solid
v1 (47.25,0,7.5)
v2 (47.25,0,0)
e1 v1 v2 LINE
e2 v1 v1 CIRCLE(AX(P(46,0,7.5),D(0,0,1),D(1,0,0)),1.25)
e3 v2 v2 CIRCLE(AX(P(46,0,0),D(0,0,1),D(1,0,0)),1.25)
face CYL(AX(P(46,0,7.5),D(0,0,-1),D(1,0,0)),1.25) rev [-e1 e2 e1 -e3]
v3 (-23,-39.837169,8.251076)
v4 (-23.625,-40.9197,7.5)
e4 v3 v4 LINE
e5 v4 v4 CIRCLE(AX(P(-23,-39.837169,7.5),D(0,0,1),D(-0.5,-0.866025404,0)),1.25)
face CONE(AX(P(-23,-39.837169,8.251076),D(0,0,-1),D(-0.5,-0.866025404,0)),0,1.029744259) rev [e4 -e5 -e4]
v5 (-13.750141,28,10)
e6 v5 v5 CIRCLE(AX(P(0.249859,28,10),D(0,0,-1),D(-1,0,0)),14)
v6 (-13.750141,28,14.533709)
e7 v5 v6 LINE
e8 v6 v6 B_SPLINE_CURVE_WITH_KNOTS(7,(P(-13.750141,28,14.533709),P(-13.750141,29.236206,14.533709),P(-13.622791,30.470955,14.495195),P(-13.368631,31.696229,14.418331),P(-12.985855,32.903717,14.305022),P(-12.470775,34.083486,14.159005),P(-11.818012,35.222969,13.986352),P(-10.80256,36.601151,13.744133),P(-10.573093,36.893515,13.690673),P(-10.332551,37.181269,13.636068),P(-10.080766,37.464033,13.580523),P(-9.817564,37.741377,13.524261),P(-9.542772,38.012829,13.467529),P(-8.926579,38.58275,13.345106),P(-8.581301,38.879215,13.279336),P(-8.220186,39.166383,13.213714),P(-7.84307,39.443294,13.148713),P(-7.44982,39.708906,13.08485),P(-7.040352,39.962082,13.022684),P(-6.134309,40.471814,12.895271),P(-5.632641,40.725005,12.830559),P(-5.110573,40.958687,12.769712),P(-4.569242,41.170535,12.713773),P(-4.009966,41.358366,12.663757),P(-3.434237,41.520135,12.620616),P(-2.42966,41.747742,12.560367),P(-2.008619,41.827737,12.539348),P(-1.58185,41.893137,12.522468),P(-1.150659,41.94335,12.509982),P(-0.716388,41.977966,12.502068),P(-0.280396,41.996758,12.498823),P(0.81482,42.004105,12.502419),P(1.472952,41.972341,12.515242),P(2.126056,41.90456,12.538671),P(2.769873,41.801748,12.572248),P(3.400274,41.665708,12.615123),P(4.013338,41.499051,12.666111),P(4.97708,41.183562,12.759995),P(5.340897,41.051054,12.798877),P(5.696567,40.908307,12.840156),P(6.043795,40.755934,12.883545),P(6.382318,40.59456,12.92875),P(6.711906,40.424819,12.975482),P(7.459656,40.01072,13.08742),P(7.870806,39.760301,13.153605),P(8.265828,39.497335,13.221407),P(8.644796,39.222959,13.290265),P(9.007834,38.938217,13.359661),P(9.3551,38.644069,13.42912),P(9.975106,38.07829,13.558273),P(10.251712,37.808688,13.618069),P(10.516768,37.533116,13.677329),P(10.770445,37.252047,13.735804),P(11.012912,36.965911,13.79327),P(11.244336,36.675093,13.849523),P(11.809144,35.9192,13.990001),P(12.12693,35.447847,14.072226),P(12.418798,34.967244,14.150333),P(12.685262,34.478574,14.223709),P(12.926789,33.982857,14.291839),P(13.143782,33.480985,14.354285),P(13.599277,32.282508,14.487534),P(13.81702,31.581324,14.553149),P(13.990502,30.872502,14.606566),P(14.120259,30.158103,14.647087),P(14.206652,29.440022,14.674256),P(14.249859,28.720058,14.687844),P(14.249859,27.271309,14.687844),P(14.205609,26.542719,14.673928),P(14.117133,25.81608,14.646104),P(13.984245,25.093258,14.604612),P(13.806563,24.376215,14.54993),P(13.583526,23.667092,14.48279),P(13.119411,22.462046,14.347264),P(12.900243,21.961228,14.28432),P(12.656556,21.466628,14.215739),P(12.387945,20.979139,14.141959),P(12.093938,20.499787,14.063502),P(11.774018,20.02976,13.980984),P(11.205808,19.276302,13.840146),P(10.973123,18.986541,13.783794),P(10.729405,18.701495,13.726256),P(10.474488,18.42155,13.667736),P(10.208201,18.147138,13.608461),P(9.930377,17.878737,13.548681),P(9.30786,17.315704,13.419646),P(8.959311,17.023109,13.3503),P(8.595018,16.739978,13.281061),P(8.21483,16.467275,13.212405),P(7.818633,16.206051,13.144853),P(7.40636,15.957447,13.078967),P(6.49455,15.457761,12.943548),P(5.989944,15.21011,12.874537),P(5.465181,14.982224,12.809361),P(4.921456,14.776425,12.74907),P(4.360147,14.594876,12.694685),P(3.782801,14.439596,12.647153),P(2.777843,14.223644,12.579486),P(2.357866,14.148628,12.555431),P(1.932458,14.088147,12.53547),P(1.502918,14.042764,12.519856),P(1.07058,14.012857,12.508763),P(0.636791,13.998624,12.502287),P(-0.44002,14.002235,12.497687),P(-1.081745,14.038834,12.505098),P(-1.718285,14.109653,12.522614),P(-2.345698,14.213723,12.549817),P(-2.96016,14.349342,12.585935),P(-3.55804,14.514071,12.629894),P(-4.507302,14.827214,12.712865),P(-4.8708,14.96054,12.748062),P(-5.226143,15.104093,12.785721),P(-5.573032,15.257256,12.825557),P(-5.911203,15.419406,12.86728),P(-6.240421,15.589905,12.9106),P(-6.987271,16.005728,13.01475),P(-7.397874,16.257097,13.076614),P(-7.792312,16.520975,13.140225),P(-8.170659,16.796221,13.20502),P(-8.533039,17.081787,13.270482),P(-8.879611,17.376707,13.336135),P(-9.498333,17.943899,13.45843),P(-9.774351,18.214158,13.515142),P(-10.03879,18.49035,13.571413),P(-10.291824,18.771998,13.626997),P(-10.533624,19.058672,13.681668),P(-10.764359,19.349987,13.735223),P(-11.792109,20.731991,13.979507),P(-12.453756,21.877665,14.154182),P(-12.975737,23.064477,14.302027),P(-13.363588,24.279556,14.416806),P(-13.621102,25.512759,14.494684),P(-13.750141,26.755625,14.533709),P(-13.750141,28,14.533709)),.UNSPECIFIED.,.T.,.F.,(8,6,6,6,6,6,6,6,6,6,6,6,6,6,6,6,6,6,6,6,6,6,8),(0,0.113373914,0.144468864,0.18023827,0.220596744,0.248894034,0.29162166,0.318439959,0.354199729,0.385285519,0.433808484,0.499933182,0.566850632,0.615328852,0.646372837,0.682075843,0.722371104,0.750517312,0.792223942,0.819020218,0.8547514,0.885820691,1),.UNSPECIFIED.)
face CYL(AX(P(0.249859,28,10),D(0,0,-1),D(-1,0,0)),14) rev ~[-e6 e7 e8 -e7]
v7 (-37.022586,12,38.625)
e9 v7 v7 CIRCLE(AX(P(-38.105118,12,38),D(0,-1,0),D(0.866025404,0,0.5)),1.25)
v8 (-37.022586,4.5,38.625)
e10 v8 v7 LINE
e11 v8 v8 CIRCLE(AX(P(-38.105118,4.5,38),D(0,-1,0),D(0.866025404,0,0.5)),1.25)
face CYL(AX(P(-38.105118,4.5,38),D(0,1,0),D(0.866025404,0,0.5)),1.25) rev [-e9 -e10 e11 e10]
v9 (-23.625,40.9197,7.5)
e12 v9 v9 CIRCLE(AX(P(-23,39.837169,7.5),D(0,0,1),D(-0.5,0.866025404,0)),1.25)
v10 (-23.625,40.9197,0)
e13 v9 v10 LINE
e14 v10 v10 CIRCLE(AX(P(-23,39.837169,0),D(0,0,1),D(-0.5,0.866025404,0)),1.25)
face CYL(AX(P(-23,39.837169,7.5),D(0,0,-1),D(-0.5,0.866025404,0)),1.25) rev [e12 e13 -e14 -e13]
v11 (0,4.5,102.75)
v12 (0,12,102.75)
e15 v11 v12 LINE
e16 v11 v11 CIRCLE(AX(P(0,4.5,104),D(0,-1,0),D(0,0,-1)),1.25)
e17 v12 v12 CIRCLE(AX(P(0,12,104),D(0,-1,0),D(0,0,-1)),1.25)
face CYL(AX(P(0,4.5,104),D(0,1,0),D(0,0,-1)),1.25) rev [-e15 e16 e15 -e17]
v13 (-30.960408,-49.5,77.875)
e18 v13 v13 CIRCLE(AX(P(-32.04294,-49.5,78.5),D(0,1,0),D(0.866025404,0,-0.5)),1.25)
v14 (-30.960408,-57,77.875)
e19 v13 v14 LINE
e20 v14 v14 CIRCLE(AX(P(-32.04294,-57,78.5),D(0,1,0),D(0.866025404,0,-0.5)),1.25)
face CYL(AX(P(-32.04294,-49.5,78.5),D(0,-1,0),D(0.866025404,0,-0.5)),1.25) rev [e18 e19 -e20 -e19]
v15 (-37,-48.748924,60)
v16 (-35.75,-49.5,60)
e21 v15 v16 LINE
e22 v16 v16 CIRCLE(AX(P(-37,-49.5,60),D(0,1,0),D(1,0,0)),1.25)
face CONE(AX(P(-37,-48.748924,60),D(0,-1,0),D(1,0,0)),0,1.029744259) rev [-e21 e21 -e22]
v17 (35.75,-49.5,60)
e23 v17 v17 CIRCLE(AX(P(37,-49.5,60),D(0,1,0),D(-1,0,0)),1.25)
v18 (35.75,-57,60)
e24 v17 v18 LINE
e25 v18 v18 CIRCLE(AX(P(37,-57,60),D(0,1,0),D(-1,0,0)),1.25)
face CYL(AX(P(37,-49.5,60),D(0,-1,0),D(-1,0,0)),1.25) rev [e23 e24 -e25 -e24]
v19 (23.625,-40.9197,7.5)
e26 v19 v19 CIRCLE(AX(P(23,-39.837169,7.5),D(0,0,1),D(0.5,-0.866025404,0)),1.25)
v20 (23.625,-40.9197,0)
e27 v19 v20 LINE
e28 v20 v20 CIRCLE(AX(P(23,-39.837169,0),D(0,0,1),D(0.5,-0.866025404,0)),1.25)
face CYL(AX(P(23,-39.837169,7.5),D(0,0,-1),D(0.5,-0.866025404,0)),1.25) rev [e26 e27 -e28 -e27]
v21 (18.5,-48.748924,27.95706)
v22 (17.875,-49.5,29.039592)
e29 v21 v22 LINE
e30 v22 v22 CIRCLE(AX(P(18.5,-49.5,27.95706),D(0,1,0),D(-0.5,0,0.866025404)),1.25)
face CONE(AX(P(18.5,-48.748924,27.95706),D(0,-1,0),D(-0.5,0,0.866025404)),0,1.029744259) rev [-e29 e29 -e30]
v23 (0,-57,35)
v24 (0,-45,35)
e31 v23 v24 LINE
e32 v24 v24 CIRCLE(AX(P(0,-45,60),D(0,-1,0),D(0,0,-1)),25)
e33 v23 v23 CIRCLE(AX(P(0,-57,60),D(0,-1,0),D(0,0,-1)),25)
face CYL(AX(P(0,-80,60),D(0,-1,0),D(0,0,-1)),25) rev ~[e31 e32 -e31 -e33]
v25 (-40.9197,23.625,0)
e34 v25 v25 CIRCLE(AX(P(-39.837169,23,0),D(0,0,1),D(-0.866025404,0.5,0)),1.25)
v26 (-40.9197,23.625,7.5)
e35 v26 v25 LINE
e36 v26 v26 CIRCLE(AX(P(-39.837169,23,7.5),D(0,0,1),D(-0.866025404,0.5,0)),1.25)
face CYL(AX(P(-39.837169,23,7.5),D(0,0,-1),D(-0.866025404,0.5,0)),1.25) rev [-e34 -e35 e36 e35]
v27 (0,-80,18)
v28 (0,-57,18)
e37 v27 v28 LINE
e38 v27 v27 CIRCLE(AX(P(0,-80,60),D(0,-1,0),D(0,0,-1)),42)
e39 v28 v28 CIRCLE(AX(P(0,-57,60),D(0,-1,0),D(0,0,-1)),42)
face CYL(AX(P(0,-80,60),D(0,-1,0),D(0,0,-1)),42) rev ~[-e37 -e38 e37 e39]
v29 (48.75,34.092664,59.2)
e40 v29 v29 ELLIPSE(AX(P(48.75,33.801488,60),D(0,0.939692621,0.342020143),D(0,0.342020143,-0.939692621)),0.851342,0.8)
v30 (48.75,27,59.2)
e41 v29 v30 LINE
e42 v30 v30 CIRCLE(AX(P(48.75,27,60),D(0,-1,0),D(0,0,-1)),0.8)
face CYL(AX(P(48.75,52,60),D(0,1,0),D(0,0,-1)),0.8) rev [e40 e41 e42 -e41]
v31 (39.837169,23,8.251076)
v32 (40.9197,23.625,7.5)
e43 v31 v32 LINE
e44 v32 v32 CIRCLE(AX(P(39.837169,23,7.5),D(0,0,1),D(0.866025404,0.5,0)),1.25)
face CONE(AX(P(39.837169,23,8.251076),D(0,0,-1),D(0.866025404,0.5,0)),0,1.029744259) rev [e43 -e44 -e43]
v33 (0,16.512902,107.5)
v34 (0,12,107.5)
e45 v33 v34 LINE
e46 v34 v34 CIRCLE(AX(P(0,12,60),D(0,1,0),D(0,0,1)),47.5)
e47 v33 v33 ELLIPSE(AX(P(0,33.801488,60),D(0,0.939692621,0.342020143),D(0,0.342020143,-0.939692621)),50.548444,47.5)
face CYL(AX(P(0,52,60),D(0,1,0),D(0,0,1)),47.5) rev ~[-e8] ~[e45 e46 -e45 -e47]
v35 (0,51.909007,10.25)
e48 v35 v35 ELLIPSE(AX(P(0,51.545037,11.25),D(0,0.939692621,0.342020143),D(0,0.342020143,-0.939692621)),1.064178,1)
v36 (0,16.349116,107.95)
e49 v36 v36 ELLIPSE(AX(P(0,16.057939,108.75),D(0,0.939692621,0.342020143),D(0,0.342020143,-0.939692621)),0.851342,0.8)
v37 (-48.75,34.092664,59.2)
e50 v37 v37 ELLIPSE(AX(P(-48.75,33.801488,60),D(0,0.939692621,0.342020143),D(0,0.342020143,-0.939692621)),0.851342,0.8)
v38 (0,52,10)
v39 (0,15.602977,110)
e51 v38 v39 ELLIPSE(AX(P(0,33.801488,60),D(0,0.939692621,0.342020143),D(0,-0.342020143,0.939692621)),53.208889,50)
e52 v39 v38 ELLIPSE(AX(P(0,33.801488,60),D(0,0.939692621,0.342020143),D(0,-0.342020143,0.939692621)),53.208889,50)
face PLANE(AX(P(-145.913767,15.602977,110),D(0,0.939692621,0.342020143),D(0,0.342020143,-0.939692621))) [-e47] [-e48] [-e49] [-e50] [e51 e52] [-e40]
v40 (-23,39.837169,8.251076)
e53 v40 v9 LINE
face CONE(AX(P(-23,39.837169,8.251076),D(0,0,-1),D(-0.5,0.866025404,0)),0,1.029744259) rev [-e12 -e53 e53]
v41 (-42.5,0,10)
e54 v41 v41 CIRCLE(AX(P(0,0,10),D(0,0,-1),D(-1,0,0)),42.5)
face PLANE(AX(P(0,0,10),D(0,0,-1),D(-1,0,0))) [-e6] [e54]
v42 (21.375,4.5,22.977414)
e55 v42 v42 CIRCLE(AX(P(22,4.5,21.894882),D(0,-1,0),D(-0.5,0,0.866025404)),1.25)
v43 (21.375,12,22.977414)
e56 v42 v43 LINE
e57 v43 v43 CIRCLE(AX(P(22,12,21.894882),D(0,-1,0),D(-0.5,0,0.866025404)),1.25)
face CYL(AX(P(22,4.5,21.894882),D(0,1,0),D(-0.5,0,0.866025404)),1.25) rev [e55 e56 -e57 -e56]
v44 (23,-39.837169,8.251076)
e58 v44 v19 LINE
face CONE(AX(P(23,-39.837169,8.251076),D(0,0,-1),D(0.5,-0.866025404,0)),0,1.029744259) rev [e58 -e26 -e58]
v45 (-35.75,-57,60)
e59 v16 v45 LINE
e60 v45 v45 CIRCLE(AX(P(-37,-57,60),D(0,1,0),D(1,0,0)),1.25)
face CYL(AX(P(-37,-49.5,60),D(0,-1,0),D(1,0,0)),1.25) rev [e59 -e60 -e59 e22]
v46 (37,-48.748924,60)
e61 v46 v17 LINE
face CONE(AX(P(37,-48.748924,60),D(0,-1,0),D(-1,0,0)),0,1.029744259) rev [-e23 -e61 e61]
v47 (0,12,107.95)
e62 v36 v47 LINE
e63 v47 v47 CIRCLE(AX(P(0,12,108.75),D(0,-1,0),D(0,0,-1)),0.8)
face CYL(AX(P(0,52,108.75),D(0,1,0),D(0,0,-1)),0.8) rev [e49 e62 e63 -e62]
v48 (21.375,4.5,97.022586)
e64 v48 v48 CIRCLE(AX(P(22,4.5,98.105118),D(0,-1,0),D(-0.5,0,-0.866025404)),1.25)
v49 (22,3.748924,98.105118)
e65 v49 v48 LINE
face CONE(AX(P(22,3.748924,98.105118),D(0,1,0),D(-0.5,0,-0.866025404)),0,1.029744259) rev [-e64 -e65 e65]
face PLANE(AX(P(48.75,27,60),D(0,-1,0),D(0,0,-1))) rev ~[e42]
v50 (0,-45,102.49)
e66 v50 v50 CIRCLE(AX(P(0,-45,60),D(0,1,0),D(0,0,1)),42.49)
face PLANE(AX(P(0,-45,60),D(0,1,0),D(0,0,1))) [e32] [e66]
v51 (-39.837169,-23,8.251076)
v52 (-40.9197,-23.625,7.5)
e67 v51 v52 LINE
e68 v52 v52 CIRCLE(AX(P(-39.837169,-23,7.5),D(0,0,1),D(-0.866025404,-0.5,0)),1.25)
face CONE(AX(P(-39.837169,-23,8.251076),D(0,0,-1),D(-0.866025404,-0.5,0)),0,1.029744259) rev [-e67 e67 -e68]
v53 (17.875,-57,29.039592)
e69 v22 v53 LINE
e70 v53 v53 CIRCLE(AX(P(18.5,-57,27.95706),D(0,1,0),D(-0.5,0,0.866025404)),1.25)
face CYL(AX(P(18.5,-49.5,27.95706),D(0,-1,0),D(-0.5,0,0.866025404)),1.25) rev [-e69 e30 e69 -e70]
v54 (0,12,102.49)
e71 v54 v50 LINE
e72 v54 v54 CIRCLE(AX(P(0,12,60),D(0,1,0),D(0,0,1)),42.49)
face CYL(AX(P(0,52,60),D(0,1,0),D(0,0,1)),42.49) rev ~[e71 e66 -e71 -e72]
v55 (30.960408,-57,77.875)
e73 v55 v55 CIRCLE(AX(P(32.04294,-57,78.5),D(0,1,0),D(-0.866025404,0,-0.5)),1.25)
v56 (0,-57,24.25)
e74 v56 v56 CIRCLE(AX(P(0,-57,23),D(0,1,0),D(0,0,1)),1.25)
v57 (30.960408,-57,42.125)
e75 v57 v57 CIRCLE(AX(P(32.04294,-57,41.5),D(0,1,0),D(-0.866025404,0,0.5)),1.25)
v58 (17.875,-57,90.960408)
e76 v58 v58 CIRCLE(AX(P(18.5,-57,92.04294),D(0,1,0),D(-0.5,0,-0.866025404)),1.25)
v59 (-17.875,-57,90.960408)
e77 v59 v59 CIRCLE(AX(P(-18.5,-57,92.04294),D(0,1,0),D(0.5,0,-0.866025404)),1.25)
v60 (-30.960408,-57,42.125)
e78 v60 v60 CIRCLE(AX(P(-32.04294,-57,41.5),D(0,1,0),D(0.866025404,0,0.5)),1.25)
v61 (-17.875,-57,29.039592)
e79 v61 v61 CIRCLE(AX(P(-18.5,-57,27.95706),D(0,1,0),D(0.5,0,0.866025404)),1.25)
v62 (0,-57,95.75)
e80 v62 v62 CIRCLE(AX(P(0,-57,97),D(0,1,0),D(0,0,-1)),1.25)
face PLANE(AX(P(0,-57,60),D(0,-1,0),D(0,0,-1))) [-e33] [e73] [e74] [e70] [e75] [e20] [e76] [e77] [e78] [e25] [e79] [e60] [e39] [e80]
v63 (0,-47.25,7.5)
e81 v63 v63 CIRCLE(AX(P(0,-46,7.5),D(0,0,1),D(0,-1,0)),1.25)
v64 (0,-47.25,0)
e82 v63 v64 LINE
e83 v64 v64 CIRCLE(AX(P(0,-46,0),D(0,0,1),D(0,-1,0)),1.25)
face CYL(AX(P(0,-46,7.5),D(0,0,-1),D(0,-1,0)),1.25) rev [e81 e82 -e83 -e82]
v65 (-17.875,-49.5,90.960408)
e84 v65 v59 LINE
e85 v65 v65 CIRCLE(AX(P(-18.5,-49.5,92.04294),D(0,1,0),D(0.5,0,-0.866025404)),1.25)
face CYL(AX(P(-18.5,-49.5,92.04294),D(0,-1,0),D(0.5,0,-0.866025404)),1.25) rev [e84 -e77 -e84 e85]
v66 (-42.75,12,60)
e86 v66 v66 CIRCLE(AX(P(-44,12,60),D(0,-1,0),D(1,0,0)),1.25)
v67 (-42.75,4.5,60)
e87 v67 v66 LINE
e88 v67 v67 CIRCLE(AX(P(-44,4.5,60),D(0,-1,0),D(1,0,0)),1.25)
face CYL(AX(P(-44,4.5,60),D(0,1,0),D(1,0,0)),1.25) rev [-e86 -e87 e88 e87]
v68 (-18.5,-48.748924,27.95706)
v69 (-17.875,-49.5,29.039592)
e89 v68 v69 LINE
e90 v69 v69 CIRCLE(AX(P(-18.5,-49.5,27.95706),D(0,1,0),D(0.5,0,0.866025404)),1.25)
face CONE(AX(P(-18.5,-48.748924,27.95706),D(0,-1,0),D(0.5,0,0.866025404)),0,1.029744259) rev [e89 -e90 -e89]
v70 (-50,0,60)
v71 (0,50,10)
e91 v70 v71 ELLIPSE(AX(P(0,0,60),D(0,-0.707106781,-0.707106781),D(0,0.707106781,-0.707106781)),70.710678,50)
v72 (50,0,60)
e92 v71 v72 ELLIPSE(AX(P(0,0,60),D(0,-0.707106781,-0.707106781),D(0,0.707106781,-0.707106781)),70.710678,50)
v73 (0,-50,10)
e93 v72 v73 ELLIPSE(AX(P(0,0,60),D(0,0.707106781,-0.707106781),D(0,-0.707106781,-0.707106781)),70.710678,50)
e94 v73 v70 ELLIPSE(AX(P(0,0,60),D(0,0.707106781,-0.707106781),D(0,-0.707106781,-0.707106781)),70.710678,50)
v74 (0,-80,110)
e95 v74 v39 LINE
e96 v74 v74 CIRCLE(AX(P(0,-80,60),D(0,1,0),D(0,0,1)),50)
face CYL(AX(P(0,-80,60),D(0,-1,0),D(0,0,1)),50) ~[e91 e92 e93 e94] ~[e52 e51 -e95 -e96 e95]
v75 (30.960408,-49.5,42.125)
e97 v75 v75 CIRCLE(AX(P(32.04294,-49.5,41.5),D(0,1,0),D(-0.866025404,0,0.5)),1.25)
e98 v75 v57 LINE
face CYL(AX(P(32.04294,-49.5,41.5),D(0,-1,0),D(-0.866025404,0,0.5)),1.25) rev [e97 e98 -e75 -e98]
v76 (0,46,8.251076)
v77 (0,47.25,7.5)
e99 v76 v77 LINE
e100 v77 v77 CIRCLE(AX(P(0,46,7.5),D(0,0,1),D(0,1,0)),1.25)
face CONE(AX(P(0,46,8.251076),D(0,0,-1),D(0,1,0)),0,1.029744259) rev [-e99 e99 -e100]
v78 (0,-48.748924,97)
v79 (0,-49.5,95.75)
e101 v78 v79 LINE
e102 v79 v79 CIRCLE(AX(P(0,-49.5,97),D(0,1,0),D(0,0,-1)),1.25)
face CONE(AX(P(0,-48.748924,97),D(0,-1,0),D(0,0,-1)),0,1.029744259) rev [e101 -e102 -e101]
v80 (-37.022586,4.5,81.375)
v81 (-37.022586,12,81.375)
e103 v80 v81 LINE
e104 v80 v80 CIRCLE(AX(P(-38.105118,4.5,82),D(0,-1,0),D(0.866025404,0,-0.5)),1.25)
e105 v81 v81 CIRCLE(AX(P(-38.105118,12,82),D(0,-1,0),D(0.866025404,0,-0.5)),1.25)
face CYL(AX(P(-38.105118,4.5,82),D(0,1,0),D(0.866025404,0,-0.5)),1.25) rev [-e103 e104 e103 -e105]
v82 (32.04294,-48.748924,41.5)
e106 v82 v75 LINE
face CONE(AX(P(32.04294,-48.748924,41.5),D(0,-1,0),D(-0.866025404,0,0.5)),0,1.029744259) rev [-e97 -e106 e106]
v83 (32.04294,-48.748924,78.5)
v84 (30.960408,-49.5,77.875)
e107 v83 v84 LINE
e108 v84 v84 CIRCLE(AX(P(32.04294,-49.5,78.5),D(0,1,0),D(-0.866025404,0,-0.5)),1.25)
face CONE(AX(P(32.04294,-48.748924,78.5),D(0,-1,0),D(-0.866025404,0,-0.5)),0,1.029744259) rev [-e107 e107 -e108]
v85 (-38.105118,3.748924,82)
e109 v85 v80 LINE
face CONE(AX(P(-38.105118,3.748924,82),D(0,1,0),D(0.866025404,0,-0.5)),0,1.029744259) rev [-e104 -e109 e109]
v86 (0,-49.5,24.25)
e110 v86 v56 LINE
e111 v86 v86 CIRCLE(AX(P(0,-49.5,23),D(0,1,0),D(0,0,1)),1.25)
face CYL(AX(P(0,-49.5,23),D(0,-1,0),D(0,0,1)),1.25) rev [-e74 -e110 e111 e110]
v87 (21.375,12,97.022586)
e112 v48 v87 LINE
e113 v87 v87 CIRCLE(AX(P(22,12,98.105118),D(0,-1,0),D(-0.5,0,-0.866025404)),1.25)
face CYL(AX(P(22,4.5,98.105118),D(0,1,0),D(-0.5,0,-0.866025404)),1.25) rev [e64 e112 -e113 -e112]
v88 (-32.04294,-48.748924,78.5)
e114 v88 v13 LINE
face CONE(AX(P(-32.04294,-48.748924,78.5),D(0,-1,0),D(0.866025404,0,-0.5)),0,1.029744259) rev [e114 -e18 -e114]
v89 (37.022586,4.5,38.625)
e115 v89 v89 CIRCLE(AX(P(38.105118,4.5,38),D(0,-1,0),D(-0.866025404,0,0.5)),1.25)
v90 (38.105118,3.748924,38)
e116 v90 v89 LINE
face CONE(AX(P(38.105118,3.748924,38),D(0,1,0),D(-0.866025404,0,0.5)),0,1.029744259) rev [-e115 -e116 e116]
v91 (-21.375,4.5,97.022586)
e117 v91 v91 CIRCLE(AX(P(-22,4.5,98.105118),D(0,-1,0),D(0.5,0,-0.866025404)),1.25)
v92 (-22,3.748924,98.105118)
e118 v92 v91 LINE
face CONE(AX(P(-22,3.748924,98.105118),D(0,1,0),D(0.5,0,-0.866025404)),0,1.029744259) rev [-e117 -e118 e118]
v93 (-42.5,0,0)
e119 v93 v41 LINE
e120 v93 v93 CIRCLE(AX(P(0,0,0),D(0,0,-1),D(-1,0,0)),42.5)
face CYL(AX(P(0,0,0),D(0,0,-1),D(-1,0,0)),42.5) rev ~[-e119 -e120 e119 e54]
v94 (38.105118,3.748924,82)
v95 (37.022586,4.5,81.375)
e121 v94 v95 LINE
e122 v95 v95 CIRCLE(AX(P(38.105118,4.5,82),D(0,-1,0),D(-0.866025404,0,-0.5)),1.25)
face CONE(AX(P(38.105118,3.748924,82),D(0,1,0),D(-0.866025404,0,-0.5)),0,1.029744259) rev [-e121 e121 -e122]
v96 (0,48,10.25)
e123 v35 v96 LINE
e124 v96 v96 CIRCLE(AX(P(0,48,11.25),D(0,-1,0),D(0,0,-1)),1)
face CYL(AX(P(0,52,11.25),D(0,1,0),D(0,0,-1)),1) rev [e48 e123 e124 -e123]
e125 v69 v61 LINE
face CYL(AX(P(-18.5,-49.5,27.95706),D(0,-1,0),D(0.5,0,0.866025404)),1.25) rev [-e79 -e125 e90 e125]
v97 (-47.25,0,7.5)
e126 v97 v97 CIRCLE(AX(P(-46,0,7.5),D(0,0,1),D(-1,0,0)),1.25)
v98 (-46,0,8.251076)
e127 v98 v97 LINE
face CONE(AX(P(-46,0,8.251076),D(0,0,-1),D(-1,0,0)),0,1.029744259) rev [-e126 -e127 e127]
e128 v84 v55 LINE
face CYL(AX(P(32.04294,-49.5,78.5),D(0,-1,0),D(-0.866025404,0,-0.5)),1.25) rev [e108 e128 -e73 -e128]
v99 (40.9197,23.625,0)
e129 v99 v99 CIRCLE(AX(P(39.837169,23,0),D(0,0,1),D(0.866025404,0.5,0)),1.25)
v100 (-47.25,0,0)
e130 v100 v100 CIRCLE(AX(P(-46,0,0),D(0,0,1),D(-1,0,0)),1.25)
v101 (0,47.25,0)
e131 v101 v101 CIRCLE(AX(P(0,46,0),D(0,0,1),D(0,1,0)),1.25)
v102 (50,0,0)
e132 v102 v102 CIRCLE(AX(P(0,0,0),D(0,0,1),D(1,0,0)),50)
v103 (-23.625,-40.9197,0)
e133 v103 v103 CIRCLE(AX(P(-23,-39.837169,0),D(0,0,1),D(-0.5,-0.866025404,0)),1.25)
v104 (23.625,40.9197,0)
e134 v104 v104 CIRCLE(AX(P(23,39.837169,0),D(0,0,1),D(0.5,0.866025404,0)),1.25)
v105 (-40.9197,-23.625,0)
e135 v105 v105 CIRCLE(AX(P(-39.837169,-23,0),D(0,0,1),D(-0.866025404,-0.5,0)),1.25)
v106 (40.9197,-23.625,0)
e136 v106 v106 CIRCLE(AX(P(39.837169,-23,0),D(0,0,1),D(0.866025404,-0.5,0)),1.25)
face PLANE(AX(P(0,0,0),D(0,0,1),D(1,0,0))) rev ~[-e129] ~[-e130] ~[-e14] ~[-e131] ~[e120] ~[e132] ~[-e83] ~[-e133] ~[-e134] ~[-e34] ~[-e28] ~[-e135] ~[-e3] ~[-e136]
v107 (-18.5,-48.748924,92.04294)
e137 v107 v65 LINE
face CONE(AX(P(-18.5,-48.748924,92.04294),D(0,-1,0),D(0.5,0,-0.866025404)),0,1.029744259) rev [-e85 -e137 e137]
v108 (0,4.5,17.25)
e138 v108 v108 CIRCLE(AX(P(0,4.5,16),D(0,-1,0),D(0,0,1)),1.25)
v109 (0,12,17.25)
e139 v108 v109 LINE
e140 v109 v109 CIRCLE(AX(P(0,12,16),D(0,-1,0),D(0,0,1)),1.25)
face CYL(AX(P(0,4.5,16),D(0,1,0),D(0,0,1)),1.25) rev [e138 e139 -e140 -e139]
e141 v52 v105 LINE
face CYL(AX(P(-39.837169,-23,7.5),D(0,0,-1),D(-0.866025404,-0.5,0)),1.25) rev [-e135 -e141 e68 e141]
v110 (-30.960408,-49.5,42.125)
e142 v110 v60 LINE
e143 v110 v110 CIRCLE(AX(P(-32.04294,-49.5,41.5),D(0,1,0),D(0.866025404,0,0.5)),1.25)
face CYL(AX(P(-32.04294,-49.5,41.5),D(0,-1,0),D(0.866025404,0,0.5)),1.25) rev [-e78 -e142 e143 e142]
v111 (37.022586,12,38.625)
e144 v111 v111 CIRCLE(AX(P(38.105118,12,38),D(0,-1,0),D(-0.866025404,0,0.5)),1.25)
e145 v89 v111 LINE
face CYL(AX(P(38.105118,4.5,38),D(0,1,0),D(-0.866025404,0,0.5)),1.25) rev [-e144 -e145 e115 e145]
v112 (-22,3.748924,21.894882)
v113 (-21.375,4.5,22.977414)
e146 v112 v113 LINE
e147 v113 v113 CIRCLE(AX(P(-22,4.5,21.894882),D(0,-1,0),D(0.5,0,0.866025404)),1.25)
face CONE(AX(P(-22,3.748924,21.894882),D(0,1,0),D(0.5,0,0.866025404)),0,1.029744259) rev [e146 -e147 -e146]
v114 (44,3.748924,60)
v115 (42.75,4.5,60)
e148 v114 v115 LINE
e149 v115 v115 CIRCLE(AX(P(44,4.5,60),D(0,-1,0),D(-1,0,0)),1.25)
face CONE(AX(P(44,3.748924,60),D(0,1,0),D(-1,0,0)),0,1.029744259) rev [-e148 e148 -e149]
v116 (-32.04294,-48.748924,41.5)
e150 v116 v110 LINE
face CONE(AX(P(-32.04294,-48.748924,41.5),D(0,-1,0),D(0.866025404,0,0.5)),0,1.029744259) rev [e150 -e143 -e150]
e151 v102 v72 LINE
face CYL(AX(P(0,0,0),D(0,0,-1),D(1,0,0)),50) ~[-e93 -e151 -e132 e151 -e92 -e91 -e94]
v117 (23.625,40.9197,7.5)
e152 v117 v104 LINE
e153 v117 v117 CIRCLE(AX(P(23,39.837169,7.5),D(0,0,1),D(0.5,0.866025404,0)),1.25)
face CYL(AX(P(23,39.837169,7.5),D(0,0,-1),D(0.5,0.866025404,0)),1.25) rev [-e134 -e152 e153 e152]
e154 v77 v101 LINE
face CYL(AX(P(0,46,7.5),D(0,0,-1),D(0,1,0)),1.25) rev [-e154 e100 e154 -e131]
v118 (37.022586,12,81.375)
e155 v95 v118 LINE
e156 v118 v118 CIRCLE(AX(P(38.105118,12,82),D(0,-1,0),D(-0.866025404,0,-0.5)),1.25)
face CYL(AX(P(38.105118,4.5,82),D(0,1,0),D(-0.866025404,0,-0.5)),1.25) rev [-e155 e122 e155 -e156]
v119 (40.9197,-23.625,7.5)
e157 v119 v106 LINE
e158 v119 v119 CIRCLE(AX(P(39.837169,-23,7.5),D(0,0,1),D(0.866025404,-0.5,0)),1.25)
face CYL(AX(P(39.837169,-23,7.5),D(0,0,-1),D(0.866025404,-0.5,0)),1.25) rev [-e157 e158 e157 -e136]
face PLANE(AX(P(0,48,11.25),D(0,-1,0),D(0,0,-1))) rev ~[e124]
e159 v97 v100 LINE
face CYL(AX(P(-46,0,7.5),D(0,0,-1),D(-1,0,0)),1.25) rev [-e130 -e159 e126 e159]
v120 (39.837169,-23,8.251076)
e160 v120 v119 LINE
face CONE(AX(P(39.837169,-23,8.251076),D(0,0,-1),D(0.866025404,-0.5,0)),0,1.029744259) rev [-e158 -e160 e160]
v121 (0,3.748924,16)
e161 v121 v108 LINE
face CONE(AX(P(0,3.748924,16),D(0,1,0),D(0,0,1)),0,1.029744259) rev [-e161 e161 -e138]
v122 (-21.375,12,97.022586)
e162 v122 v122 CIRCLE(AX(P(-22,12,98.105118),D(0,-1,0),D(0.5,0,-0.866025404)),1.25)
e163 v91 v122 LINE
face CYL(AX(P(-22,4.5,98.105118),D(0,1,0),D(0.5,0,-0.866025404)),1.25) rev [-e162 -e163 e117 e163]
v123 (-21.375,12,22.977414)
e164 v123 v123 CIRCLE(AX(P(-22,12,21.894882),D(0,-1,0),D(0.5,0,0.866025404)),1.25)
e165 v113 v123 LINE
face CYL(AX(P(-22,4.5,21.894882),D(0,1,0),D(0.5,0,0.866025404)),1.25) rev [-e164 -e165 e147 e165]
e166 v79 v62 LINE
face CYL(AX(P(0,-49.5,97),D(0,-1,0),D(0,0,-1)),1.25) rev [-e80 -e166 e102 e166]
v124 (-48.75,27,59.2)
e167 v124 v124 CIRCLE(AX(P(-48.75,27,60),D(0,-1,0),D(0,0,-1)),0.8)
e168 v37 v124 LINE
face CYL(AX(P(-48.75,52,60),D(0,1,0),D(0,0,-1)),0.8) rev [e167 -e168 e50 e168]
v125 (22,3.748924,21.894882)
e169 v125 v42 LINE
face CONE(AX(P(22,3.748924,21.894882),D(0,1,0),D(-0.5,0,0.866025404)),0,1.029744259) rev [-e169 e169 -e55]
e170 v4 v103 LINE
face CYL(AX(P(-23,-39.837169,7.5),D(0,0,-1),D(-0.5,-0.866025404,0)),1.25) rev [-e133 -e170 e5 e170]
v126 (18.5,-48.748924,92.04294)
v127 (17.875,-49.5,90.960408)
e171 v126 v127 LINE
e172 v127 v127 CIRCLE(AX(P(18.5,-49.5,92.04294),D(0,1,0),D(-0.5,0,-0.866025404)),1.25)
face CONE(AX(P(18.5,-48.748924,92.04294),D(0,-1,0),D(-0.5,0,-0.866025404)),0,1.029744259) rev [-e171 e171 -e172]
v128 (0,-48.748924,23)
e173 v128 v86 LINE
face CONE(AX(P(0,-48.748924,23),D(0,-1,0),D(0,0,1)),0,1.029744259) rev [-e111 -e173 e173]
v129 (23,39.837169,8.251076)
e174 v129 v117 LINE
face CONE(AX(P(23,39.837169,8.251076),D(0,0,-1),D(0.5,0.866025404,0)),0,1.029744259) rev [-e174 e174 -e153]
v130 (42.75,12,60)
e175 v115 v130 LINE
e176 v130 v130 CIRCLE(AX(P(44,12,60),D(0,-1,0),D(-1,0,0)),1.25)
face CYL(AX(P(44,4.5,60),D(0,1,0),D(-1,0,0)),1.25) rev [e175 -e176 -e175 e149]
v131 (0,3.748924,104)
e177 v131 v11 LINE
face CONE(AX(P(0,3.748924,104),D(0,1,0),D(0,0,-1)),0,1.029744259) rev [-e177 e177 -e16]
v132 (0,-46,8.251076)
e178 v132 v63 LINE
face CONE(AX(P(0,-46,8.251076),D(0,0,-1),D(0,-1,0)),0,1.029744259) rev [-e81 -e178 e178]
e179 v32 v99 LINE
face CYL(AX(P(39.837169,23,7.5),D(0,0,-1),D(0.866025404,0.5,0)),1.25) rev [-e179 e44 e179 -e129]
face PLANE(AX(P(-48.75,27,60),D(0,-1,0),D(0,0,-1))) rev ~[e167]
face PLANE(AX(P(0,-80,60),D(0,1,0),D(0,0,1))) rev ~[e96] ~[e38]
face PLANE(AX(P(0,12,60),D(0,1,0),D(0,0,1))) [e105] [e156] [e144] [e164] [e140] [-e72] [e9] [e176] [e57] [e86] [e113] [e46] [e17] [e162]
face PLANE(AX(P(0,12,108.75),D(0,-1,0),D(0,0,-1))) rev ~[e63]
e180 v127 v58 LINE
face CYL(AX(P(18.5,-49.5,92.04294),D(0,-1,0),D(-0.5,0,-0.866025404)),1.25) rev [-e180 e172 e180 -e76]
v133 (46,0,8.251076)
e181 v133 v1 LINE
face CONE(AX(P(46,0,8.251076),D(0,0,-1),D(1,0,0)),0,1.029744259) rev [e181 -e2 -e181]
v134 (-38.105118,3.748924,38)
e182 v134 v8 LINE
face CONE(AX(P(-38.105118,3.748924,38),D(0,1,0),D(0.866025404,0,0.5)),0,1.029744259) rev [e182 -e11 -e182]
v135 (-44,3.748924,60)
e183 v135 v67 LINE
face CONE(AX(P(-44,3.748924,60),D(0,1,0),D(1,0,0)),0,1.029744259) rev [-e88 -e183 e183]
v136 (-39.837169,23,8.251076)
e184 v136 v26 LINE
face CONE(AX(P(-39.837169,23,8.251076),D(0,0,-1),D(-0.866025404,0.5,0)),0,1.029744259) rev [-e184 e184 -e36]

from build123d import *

# Parameters (mm, degrees)
SKETCH_1_R               = 50
EXTRUDE_1_DEPTH          = 60
EXTRUDE_2_DEPTH          = 52
EXTRUDE_2_DEPTH_BACK     = 80
SKETCH_2_R               = 50
SKETCH_3_R               = 25
CUT_EXTRUDE_1_DEPTH      = 179.952507666
SKETCH_4_R               = 42
CUT_EXTRUDE_2_DEPTH      = 23
PATTERN_CIRCULAR_1_COUNT = 12
SKETCH_7_R               = 42.49
CUT_EXTRUDE_3_DEPTH      = 97
SKETCH_8_R               = 47.5
CUT_EXTRUDE_4_DEPTH      = 40
PATTERN_CIRCULAR_2_COUNT = 12
CUT_EXTRUDE_5_DEPTH      = 145.913767462
CUT_EXTRUDE_5_DEPTH_BACK = 145.913767462
SKETCH_12_R              = 1
CUT_EXTRUDE_8_DEPTH      = 4
SKETCH_14_R              = 0.8
CUT_EXTRUDE_9_DEPTH      = 40
SKETCH_15_R              = 0.8
CUT_EXTRUDE_10_DEPTH     = 25
PATTERN_CIRCULAR_3_COUNT = 12
SKETCH_18_R              = 42.5
CUT_EXTRUDE_11_DEPTH     = 10
SKETCH_19_R              = 14
CUT_EXTRUDE_12_DEPTH     = 10


with BuildPart() as part:
    # 草图1 → 凸台-拉伸1 (new body)
    with BuildSketch(Plane.XY):
        Circle(SKETCH_1_R)
    extrude(amount=EXTRUDE_1_DEPTH)

    # 草图2 → 凸台-拉伸2 (add, two sides: drawn at the far end of the back side and taken through both)
    with BuildSketch(Plane(origin=(0, 0, 0), x_dir=(1, 0, 0), z_dir=(0, 1, 0)).offset(-EXTRUDE_2_DEPTH_BACK)):
        with Locations(Location((0, -60, 0), (0, 0, 270))):
            Circle(SKETCH_2_R)
    extrude(amount=EXTRUDE_2_DEPTH + EXTRUDE_2_DEPTH_BACK)

    # 草图3 → 切除-拉伸1 (cut, through all)
    with BuildSketch(Plane.XZ.offset(80)):
        with Locations(Location((0, 60, 0), (0, 0, 270))):
            Circle(SKETCH_3_R)
    extrude(amount=-CUT_EXTRUDE_1_DEPTH, mode=Mode.SUBTRACT)

    # 草图4 → 切除-拉伸2 (cut)
    with BuildSketch(Plane.XZ.offset(80)):
        with Locations(Location((0, 60, 0), (0, 0, 270))):
            Circle(SKETCH_4_R)
    extrude(amount=-CUT_EXTRUDE_2_DEPTH, mode=Mode.SUBTRACT)

    # 草图5 → M3 螺纹孔1 (revolve, cut)
    with BuildSketch(Plane(origin=(0, -57, 97), x_dir=(0, 0, -1), z_dir=(1, 0, 0))):
        Polygon((0, 0), (0, 8.251075774), (1.25, 7.5), (1.25, 0), align=None)
    hole_wizard_m3_1 = revolve(axis=Axis((0, -63.35, 97), (0, 1, 0)), mode=Mode.SUBTRACT)

    # 阵列(圆周)1: M3 螺纹孔1 ×12 about axis
    pattern_circular_1_axis = Axis((0, 0, 60), (0, 1, 0))
    for i in range(1, PATTERN_CIRCULAR_1_COUNT):
        add(hole_wizard_m3_1.rotate(pattern_circular_1_axis, i * 360 / PATTERN_CIRCULAR_1_COUNT), mode=Mode.SUBTRACT)

    # 草图7 → 切除-拉伸3 (cut)
    with BuildSketch(Plane(origin=(0, 52, 0), x_dir=(1, 0, 0), z_dir=(0, 1, 0))):
        with Locations(Location((0, -60, 0), (0, 0, 270))):
            Circle(SKETCH_7_R)
    extrude(amount=-CUT_EXTRUDE_3_DEPTH, mode=Mode.SUBTRACT)

    # 草图8 → 切除-拉伸4 (cut)
    with BuildSketch(Plane(origin=(0, 52, 0), x_dir=(1, 0, 0), z_dir=(0, 1, 0))):
        with Locations(Location((0, -60, 0), (0, 0, 270))):
            Circle(SKETCH_8_R)
    extrude(amount=-CUT_EXTRUDE_4_DEPTH, mode=Mode.SUBTRACT)

    # 草图9 → M3 螺纹孔2 (revolve, cut)
    with BuildSketch(Plane(origin=(0, 12, 16), x_dir=(0, 0, 1), z_dir=(1, 0, 0))):
        Polygon((0, 0), (0, 8.251075774), (1.25, 7.5), (1.25, 0), align=None)
    hole_wizard_m3_2 = revolve(axis=Axis((0, 18.35, 16), (0, -1, 0)), mode=Mode.SUBTRACT)

    # 阵列(圆周)2: M3 螺纹孔2 ×12 about axis
    pattern_circular_2_axis = Axis((0, 0, 60), (0, 1, 0))
    for i in range(1, PATTERN_CIRCULAR_2_COUNT):
        add(hole_wizard_m3_2.rotate(pattern_circular_2_axis, i * 360 / PATTERN_CIRCULAR_2_COUNT), mode=Mode.SUBTRACT)

    # 草图11 → 切除-拉伸5 (cut, two sides: drawn at the far end of the back side and taken through both)
    with BuildSketch(Plane(origin=(0, 0, 0), x_dir=(0, 0, -1), z_dir=(1, 0, 0)).offset(-CUT_EXTRUDE_5_DEPTH_BACK)):
        Polygon((-10, 52), (-110, 52), (-110, 15.602976573), align=None)
    extrude(amount=CUT_EXTRUDE_5_DEPTH + CUT_EXTRUDE_5_DEPTH_BACK, mode=Mode.SUBTRACT)

    # 草图12 → 切除-拉伸8 (cut)
    with BuildSketch(Plane(origin=(0, 52, 0), x_dir=(-1, 0, 0), z_dir=(0, -1, 0))):
        with Locations(Location((0, -11.25, 0), (0, 0, 90))):
            Circle(SKETCH_12_R)
    extrude(amount=CUT_EXTRUDE_8_DEPTH, mode=Mode.SUBTRACT)

    # 草图14 → 切除-拉伸9 (cut)
    with BuildSketch(Plane(origin=(0, 52, 0), x_dir=(-1, 0, 0), z_dir=(0, -1, 0))):
        with Locations(Location((0, -108.75, 0), (0, 0, 90))):
            Circle(SKETCH_14_R)
    extrude(amount=CUT_EXTRUDE_9_DEPTH, mode=Mode.SUBTRACT)

    # 草图15 → 切除-拉伸10 (cut)
    with BuildSketch(Plane(origin=(0, 52, 0), x_dir=(-1, 0, 0), z_dir=(0, -1, 0))):
        with Locations(Location((48.75, -60, 0), (0, 0, 90))):
            Circle(SKETCH_15_R)
        with Locations(Location((-48.75, -60, 0), (0, 0, 90))):
            Circle(SKETCH_15_R)
    extrude(amount=CUT_EXTRUDE_10_DEPTH, mode=Mode.SUBTRACT)

    # 草图16 → M3 螺纹孔3 (revolve, cut)
    with BuildSketch(Plane(origin=(0, 46, 0), x_dir=(0, 1, 0), z_dir=(1, 0, 0))):
        Polygon((0, 0), (0, 8.251075774), (1.25, 7.5), (1.25, 0), align=None)
    hole_wizard_m3_3 = revolve(axis=Axis((0, 46, -6.35), (0, 0, 1)), mode=Mode.SUBTRACT)

    # 阵列(圆周)3: M3 螺纹孔3 ×12 about axis
    pattern_circular_3_axis = Axis((0, 0, 0), (0, 0, 1))
    for i in range(1, PATTERN_CIRCULAR_3_COUNT):
        add(hole_wizard_m3_3.rotate(pattern_circular_3_axis, i * 360 / PATTERN_CIRCULAR_3_COUNT), mode=Mode.SUBTRACT)

    # 草图18 → 切除-拉伸11 (cut)
    with BuildSketch(Plane(origin=(0, 0, 0), x_dir=(-1, 0, 0), z_dir=(0, 0, -1))):
        Circle(SKETCH_18_R)
    extrude(amount=-CUT_EXTRUDE_11_DEPTH, mode=Mode.SUBTRACT)

    # 草图19 → 切除-拉伸12 (cut)
    with BuildSketch(Plane(origin=(0, 0, 10), x_dir=(-1, 0, 0), z_dir=(0, 0, -1))):
        with Locations((-0.249858735, 28)):
            Circle(SKETCH_19_R)
    extrude(amount=-CUT_EXTRUDE_12_DEPTH, mode=Mode.SUBTRACT)


solid = part.part
